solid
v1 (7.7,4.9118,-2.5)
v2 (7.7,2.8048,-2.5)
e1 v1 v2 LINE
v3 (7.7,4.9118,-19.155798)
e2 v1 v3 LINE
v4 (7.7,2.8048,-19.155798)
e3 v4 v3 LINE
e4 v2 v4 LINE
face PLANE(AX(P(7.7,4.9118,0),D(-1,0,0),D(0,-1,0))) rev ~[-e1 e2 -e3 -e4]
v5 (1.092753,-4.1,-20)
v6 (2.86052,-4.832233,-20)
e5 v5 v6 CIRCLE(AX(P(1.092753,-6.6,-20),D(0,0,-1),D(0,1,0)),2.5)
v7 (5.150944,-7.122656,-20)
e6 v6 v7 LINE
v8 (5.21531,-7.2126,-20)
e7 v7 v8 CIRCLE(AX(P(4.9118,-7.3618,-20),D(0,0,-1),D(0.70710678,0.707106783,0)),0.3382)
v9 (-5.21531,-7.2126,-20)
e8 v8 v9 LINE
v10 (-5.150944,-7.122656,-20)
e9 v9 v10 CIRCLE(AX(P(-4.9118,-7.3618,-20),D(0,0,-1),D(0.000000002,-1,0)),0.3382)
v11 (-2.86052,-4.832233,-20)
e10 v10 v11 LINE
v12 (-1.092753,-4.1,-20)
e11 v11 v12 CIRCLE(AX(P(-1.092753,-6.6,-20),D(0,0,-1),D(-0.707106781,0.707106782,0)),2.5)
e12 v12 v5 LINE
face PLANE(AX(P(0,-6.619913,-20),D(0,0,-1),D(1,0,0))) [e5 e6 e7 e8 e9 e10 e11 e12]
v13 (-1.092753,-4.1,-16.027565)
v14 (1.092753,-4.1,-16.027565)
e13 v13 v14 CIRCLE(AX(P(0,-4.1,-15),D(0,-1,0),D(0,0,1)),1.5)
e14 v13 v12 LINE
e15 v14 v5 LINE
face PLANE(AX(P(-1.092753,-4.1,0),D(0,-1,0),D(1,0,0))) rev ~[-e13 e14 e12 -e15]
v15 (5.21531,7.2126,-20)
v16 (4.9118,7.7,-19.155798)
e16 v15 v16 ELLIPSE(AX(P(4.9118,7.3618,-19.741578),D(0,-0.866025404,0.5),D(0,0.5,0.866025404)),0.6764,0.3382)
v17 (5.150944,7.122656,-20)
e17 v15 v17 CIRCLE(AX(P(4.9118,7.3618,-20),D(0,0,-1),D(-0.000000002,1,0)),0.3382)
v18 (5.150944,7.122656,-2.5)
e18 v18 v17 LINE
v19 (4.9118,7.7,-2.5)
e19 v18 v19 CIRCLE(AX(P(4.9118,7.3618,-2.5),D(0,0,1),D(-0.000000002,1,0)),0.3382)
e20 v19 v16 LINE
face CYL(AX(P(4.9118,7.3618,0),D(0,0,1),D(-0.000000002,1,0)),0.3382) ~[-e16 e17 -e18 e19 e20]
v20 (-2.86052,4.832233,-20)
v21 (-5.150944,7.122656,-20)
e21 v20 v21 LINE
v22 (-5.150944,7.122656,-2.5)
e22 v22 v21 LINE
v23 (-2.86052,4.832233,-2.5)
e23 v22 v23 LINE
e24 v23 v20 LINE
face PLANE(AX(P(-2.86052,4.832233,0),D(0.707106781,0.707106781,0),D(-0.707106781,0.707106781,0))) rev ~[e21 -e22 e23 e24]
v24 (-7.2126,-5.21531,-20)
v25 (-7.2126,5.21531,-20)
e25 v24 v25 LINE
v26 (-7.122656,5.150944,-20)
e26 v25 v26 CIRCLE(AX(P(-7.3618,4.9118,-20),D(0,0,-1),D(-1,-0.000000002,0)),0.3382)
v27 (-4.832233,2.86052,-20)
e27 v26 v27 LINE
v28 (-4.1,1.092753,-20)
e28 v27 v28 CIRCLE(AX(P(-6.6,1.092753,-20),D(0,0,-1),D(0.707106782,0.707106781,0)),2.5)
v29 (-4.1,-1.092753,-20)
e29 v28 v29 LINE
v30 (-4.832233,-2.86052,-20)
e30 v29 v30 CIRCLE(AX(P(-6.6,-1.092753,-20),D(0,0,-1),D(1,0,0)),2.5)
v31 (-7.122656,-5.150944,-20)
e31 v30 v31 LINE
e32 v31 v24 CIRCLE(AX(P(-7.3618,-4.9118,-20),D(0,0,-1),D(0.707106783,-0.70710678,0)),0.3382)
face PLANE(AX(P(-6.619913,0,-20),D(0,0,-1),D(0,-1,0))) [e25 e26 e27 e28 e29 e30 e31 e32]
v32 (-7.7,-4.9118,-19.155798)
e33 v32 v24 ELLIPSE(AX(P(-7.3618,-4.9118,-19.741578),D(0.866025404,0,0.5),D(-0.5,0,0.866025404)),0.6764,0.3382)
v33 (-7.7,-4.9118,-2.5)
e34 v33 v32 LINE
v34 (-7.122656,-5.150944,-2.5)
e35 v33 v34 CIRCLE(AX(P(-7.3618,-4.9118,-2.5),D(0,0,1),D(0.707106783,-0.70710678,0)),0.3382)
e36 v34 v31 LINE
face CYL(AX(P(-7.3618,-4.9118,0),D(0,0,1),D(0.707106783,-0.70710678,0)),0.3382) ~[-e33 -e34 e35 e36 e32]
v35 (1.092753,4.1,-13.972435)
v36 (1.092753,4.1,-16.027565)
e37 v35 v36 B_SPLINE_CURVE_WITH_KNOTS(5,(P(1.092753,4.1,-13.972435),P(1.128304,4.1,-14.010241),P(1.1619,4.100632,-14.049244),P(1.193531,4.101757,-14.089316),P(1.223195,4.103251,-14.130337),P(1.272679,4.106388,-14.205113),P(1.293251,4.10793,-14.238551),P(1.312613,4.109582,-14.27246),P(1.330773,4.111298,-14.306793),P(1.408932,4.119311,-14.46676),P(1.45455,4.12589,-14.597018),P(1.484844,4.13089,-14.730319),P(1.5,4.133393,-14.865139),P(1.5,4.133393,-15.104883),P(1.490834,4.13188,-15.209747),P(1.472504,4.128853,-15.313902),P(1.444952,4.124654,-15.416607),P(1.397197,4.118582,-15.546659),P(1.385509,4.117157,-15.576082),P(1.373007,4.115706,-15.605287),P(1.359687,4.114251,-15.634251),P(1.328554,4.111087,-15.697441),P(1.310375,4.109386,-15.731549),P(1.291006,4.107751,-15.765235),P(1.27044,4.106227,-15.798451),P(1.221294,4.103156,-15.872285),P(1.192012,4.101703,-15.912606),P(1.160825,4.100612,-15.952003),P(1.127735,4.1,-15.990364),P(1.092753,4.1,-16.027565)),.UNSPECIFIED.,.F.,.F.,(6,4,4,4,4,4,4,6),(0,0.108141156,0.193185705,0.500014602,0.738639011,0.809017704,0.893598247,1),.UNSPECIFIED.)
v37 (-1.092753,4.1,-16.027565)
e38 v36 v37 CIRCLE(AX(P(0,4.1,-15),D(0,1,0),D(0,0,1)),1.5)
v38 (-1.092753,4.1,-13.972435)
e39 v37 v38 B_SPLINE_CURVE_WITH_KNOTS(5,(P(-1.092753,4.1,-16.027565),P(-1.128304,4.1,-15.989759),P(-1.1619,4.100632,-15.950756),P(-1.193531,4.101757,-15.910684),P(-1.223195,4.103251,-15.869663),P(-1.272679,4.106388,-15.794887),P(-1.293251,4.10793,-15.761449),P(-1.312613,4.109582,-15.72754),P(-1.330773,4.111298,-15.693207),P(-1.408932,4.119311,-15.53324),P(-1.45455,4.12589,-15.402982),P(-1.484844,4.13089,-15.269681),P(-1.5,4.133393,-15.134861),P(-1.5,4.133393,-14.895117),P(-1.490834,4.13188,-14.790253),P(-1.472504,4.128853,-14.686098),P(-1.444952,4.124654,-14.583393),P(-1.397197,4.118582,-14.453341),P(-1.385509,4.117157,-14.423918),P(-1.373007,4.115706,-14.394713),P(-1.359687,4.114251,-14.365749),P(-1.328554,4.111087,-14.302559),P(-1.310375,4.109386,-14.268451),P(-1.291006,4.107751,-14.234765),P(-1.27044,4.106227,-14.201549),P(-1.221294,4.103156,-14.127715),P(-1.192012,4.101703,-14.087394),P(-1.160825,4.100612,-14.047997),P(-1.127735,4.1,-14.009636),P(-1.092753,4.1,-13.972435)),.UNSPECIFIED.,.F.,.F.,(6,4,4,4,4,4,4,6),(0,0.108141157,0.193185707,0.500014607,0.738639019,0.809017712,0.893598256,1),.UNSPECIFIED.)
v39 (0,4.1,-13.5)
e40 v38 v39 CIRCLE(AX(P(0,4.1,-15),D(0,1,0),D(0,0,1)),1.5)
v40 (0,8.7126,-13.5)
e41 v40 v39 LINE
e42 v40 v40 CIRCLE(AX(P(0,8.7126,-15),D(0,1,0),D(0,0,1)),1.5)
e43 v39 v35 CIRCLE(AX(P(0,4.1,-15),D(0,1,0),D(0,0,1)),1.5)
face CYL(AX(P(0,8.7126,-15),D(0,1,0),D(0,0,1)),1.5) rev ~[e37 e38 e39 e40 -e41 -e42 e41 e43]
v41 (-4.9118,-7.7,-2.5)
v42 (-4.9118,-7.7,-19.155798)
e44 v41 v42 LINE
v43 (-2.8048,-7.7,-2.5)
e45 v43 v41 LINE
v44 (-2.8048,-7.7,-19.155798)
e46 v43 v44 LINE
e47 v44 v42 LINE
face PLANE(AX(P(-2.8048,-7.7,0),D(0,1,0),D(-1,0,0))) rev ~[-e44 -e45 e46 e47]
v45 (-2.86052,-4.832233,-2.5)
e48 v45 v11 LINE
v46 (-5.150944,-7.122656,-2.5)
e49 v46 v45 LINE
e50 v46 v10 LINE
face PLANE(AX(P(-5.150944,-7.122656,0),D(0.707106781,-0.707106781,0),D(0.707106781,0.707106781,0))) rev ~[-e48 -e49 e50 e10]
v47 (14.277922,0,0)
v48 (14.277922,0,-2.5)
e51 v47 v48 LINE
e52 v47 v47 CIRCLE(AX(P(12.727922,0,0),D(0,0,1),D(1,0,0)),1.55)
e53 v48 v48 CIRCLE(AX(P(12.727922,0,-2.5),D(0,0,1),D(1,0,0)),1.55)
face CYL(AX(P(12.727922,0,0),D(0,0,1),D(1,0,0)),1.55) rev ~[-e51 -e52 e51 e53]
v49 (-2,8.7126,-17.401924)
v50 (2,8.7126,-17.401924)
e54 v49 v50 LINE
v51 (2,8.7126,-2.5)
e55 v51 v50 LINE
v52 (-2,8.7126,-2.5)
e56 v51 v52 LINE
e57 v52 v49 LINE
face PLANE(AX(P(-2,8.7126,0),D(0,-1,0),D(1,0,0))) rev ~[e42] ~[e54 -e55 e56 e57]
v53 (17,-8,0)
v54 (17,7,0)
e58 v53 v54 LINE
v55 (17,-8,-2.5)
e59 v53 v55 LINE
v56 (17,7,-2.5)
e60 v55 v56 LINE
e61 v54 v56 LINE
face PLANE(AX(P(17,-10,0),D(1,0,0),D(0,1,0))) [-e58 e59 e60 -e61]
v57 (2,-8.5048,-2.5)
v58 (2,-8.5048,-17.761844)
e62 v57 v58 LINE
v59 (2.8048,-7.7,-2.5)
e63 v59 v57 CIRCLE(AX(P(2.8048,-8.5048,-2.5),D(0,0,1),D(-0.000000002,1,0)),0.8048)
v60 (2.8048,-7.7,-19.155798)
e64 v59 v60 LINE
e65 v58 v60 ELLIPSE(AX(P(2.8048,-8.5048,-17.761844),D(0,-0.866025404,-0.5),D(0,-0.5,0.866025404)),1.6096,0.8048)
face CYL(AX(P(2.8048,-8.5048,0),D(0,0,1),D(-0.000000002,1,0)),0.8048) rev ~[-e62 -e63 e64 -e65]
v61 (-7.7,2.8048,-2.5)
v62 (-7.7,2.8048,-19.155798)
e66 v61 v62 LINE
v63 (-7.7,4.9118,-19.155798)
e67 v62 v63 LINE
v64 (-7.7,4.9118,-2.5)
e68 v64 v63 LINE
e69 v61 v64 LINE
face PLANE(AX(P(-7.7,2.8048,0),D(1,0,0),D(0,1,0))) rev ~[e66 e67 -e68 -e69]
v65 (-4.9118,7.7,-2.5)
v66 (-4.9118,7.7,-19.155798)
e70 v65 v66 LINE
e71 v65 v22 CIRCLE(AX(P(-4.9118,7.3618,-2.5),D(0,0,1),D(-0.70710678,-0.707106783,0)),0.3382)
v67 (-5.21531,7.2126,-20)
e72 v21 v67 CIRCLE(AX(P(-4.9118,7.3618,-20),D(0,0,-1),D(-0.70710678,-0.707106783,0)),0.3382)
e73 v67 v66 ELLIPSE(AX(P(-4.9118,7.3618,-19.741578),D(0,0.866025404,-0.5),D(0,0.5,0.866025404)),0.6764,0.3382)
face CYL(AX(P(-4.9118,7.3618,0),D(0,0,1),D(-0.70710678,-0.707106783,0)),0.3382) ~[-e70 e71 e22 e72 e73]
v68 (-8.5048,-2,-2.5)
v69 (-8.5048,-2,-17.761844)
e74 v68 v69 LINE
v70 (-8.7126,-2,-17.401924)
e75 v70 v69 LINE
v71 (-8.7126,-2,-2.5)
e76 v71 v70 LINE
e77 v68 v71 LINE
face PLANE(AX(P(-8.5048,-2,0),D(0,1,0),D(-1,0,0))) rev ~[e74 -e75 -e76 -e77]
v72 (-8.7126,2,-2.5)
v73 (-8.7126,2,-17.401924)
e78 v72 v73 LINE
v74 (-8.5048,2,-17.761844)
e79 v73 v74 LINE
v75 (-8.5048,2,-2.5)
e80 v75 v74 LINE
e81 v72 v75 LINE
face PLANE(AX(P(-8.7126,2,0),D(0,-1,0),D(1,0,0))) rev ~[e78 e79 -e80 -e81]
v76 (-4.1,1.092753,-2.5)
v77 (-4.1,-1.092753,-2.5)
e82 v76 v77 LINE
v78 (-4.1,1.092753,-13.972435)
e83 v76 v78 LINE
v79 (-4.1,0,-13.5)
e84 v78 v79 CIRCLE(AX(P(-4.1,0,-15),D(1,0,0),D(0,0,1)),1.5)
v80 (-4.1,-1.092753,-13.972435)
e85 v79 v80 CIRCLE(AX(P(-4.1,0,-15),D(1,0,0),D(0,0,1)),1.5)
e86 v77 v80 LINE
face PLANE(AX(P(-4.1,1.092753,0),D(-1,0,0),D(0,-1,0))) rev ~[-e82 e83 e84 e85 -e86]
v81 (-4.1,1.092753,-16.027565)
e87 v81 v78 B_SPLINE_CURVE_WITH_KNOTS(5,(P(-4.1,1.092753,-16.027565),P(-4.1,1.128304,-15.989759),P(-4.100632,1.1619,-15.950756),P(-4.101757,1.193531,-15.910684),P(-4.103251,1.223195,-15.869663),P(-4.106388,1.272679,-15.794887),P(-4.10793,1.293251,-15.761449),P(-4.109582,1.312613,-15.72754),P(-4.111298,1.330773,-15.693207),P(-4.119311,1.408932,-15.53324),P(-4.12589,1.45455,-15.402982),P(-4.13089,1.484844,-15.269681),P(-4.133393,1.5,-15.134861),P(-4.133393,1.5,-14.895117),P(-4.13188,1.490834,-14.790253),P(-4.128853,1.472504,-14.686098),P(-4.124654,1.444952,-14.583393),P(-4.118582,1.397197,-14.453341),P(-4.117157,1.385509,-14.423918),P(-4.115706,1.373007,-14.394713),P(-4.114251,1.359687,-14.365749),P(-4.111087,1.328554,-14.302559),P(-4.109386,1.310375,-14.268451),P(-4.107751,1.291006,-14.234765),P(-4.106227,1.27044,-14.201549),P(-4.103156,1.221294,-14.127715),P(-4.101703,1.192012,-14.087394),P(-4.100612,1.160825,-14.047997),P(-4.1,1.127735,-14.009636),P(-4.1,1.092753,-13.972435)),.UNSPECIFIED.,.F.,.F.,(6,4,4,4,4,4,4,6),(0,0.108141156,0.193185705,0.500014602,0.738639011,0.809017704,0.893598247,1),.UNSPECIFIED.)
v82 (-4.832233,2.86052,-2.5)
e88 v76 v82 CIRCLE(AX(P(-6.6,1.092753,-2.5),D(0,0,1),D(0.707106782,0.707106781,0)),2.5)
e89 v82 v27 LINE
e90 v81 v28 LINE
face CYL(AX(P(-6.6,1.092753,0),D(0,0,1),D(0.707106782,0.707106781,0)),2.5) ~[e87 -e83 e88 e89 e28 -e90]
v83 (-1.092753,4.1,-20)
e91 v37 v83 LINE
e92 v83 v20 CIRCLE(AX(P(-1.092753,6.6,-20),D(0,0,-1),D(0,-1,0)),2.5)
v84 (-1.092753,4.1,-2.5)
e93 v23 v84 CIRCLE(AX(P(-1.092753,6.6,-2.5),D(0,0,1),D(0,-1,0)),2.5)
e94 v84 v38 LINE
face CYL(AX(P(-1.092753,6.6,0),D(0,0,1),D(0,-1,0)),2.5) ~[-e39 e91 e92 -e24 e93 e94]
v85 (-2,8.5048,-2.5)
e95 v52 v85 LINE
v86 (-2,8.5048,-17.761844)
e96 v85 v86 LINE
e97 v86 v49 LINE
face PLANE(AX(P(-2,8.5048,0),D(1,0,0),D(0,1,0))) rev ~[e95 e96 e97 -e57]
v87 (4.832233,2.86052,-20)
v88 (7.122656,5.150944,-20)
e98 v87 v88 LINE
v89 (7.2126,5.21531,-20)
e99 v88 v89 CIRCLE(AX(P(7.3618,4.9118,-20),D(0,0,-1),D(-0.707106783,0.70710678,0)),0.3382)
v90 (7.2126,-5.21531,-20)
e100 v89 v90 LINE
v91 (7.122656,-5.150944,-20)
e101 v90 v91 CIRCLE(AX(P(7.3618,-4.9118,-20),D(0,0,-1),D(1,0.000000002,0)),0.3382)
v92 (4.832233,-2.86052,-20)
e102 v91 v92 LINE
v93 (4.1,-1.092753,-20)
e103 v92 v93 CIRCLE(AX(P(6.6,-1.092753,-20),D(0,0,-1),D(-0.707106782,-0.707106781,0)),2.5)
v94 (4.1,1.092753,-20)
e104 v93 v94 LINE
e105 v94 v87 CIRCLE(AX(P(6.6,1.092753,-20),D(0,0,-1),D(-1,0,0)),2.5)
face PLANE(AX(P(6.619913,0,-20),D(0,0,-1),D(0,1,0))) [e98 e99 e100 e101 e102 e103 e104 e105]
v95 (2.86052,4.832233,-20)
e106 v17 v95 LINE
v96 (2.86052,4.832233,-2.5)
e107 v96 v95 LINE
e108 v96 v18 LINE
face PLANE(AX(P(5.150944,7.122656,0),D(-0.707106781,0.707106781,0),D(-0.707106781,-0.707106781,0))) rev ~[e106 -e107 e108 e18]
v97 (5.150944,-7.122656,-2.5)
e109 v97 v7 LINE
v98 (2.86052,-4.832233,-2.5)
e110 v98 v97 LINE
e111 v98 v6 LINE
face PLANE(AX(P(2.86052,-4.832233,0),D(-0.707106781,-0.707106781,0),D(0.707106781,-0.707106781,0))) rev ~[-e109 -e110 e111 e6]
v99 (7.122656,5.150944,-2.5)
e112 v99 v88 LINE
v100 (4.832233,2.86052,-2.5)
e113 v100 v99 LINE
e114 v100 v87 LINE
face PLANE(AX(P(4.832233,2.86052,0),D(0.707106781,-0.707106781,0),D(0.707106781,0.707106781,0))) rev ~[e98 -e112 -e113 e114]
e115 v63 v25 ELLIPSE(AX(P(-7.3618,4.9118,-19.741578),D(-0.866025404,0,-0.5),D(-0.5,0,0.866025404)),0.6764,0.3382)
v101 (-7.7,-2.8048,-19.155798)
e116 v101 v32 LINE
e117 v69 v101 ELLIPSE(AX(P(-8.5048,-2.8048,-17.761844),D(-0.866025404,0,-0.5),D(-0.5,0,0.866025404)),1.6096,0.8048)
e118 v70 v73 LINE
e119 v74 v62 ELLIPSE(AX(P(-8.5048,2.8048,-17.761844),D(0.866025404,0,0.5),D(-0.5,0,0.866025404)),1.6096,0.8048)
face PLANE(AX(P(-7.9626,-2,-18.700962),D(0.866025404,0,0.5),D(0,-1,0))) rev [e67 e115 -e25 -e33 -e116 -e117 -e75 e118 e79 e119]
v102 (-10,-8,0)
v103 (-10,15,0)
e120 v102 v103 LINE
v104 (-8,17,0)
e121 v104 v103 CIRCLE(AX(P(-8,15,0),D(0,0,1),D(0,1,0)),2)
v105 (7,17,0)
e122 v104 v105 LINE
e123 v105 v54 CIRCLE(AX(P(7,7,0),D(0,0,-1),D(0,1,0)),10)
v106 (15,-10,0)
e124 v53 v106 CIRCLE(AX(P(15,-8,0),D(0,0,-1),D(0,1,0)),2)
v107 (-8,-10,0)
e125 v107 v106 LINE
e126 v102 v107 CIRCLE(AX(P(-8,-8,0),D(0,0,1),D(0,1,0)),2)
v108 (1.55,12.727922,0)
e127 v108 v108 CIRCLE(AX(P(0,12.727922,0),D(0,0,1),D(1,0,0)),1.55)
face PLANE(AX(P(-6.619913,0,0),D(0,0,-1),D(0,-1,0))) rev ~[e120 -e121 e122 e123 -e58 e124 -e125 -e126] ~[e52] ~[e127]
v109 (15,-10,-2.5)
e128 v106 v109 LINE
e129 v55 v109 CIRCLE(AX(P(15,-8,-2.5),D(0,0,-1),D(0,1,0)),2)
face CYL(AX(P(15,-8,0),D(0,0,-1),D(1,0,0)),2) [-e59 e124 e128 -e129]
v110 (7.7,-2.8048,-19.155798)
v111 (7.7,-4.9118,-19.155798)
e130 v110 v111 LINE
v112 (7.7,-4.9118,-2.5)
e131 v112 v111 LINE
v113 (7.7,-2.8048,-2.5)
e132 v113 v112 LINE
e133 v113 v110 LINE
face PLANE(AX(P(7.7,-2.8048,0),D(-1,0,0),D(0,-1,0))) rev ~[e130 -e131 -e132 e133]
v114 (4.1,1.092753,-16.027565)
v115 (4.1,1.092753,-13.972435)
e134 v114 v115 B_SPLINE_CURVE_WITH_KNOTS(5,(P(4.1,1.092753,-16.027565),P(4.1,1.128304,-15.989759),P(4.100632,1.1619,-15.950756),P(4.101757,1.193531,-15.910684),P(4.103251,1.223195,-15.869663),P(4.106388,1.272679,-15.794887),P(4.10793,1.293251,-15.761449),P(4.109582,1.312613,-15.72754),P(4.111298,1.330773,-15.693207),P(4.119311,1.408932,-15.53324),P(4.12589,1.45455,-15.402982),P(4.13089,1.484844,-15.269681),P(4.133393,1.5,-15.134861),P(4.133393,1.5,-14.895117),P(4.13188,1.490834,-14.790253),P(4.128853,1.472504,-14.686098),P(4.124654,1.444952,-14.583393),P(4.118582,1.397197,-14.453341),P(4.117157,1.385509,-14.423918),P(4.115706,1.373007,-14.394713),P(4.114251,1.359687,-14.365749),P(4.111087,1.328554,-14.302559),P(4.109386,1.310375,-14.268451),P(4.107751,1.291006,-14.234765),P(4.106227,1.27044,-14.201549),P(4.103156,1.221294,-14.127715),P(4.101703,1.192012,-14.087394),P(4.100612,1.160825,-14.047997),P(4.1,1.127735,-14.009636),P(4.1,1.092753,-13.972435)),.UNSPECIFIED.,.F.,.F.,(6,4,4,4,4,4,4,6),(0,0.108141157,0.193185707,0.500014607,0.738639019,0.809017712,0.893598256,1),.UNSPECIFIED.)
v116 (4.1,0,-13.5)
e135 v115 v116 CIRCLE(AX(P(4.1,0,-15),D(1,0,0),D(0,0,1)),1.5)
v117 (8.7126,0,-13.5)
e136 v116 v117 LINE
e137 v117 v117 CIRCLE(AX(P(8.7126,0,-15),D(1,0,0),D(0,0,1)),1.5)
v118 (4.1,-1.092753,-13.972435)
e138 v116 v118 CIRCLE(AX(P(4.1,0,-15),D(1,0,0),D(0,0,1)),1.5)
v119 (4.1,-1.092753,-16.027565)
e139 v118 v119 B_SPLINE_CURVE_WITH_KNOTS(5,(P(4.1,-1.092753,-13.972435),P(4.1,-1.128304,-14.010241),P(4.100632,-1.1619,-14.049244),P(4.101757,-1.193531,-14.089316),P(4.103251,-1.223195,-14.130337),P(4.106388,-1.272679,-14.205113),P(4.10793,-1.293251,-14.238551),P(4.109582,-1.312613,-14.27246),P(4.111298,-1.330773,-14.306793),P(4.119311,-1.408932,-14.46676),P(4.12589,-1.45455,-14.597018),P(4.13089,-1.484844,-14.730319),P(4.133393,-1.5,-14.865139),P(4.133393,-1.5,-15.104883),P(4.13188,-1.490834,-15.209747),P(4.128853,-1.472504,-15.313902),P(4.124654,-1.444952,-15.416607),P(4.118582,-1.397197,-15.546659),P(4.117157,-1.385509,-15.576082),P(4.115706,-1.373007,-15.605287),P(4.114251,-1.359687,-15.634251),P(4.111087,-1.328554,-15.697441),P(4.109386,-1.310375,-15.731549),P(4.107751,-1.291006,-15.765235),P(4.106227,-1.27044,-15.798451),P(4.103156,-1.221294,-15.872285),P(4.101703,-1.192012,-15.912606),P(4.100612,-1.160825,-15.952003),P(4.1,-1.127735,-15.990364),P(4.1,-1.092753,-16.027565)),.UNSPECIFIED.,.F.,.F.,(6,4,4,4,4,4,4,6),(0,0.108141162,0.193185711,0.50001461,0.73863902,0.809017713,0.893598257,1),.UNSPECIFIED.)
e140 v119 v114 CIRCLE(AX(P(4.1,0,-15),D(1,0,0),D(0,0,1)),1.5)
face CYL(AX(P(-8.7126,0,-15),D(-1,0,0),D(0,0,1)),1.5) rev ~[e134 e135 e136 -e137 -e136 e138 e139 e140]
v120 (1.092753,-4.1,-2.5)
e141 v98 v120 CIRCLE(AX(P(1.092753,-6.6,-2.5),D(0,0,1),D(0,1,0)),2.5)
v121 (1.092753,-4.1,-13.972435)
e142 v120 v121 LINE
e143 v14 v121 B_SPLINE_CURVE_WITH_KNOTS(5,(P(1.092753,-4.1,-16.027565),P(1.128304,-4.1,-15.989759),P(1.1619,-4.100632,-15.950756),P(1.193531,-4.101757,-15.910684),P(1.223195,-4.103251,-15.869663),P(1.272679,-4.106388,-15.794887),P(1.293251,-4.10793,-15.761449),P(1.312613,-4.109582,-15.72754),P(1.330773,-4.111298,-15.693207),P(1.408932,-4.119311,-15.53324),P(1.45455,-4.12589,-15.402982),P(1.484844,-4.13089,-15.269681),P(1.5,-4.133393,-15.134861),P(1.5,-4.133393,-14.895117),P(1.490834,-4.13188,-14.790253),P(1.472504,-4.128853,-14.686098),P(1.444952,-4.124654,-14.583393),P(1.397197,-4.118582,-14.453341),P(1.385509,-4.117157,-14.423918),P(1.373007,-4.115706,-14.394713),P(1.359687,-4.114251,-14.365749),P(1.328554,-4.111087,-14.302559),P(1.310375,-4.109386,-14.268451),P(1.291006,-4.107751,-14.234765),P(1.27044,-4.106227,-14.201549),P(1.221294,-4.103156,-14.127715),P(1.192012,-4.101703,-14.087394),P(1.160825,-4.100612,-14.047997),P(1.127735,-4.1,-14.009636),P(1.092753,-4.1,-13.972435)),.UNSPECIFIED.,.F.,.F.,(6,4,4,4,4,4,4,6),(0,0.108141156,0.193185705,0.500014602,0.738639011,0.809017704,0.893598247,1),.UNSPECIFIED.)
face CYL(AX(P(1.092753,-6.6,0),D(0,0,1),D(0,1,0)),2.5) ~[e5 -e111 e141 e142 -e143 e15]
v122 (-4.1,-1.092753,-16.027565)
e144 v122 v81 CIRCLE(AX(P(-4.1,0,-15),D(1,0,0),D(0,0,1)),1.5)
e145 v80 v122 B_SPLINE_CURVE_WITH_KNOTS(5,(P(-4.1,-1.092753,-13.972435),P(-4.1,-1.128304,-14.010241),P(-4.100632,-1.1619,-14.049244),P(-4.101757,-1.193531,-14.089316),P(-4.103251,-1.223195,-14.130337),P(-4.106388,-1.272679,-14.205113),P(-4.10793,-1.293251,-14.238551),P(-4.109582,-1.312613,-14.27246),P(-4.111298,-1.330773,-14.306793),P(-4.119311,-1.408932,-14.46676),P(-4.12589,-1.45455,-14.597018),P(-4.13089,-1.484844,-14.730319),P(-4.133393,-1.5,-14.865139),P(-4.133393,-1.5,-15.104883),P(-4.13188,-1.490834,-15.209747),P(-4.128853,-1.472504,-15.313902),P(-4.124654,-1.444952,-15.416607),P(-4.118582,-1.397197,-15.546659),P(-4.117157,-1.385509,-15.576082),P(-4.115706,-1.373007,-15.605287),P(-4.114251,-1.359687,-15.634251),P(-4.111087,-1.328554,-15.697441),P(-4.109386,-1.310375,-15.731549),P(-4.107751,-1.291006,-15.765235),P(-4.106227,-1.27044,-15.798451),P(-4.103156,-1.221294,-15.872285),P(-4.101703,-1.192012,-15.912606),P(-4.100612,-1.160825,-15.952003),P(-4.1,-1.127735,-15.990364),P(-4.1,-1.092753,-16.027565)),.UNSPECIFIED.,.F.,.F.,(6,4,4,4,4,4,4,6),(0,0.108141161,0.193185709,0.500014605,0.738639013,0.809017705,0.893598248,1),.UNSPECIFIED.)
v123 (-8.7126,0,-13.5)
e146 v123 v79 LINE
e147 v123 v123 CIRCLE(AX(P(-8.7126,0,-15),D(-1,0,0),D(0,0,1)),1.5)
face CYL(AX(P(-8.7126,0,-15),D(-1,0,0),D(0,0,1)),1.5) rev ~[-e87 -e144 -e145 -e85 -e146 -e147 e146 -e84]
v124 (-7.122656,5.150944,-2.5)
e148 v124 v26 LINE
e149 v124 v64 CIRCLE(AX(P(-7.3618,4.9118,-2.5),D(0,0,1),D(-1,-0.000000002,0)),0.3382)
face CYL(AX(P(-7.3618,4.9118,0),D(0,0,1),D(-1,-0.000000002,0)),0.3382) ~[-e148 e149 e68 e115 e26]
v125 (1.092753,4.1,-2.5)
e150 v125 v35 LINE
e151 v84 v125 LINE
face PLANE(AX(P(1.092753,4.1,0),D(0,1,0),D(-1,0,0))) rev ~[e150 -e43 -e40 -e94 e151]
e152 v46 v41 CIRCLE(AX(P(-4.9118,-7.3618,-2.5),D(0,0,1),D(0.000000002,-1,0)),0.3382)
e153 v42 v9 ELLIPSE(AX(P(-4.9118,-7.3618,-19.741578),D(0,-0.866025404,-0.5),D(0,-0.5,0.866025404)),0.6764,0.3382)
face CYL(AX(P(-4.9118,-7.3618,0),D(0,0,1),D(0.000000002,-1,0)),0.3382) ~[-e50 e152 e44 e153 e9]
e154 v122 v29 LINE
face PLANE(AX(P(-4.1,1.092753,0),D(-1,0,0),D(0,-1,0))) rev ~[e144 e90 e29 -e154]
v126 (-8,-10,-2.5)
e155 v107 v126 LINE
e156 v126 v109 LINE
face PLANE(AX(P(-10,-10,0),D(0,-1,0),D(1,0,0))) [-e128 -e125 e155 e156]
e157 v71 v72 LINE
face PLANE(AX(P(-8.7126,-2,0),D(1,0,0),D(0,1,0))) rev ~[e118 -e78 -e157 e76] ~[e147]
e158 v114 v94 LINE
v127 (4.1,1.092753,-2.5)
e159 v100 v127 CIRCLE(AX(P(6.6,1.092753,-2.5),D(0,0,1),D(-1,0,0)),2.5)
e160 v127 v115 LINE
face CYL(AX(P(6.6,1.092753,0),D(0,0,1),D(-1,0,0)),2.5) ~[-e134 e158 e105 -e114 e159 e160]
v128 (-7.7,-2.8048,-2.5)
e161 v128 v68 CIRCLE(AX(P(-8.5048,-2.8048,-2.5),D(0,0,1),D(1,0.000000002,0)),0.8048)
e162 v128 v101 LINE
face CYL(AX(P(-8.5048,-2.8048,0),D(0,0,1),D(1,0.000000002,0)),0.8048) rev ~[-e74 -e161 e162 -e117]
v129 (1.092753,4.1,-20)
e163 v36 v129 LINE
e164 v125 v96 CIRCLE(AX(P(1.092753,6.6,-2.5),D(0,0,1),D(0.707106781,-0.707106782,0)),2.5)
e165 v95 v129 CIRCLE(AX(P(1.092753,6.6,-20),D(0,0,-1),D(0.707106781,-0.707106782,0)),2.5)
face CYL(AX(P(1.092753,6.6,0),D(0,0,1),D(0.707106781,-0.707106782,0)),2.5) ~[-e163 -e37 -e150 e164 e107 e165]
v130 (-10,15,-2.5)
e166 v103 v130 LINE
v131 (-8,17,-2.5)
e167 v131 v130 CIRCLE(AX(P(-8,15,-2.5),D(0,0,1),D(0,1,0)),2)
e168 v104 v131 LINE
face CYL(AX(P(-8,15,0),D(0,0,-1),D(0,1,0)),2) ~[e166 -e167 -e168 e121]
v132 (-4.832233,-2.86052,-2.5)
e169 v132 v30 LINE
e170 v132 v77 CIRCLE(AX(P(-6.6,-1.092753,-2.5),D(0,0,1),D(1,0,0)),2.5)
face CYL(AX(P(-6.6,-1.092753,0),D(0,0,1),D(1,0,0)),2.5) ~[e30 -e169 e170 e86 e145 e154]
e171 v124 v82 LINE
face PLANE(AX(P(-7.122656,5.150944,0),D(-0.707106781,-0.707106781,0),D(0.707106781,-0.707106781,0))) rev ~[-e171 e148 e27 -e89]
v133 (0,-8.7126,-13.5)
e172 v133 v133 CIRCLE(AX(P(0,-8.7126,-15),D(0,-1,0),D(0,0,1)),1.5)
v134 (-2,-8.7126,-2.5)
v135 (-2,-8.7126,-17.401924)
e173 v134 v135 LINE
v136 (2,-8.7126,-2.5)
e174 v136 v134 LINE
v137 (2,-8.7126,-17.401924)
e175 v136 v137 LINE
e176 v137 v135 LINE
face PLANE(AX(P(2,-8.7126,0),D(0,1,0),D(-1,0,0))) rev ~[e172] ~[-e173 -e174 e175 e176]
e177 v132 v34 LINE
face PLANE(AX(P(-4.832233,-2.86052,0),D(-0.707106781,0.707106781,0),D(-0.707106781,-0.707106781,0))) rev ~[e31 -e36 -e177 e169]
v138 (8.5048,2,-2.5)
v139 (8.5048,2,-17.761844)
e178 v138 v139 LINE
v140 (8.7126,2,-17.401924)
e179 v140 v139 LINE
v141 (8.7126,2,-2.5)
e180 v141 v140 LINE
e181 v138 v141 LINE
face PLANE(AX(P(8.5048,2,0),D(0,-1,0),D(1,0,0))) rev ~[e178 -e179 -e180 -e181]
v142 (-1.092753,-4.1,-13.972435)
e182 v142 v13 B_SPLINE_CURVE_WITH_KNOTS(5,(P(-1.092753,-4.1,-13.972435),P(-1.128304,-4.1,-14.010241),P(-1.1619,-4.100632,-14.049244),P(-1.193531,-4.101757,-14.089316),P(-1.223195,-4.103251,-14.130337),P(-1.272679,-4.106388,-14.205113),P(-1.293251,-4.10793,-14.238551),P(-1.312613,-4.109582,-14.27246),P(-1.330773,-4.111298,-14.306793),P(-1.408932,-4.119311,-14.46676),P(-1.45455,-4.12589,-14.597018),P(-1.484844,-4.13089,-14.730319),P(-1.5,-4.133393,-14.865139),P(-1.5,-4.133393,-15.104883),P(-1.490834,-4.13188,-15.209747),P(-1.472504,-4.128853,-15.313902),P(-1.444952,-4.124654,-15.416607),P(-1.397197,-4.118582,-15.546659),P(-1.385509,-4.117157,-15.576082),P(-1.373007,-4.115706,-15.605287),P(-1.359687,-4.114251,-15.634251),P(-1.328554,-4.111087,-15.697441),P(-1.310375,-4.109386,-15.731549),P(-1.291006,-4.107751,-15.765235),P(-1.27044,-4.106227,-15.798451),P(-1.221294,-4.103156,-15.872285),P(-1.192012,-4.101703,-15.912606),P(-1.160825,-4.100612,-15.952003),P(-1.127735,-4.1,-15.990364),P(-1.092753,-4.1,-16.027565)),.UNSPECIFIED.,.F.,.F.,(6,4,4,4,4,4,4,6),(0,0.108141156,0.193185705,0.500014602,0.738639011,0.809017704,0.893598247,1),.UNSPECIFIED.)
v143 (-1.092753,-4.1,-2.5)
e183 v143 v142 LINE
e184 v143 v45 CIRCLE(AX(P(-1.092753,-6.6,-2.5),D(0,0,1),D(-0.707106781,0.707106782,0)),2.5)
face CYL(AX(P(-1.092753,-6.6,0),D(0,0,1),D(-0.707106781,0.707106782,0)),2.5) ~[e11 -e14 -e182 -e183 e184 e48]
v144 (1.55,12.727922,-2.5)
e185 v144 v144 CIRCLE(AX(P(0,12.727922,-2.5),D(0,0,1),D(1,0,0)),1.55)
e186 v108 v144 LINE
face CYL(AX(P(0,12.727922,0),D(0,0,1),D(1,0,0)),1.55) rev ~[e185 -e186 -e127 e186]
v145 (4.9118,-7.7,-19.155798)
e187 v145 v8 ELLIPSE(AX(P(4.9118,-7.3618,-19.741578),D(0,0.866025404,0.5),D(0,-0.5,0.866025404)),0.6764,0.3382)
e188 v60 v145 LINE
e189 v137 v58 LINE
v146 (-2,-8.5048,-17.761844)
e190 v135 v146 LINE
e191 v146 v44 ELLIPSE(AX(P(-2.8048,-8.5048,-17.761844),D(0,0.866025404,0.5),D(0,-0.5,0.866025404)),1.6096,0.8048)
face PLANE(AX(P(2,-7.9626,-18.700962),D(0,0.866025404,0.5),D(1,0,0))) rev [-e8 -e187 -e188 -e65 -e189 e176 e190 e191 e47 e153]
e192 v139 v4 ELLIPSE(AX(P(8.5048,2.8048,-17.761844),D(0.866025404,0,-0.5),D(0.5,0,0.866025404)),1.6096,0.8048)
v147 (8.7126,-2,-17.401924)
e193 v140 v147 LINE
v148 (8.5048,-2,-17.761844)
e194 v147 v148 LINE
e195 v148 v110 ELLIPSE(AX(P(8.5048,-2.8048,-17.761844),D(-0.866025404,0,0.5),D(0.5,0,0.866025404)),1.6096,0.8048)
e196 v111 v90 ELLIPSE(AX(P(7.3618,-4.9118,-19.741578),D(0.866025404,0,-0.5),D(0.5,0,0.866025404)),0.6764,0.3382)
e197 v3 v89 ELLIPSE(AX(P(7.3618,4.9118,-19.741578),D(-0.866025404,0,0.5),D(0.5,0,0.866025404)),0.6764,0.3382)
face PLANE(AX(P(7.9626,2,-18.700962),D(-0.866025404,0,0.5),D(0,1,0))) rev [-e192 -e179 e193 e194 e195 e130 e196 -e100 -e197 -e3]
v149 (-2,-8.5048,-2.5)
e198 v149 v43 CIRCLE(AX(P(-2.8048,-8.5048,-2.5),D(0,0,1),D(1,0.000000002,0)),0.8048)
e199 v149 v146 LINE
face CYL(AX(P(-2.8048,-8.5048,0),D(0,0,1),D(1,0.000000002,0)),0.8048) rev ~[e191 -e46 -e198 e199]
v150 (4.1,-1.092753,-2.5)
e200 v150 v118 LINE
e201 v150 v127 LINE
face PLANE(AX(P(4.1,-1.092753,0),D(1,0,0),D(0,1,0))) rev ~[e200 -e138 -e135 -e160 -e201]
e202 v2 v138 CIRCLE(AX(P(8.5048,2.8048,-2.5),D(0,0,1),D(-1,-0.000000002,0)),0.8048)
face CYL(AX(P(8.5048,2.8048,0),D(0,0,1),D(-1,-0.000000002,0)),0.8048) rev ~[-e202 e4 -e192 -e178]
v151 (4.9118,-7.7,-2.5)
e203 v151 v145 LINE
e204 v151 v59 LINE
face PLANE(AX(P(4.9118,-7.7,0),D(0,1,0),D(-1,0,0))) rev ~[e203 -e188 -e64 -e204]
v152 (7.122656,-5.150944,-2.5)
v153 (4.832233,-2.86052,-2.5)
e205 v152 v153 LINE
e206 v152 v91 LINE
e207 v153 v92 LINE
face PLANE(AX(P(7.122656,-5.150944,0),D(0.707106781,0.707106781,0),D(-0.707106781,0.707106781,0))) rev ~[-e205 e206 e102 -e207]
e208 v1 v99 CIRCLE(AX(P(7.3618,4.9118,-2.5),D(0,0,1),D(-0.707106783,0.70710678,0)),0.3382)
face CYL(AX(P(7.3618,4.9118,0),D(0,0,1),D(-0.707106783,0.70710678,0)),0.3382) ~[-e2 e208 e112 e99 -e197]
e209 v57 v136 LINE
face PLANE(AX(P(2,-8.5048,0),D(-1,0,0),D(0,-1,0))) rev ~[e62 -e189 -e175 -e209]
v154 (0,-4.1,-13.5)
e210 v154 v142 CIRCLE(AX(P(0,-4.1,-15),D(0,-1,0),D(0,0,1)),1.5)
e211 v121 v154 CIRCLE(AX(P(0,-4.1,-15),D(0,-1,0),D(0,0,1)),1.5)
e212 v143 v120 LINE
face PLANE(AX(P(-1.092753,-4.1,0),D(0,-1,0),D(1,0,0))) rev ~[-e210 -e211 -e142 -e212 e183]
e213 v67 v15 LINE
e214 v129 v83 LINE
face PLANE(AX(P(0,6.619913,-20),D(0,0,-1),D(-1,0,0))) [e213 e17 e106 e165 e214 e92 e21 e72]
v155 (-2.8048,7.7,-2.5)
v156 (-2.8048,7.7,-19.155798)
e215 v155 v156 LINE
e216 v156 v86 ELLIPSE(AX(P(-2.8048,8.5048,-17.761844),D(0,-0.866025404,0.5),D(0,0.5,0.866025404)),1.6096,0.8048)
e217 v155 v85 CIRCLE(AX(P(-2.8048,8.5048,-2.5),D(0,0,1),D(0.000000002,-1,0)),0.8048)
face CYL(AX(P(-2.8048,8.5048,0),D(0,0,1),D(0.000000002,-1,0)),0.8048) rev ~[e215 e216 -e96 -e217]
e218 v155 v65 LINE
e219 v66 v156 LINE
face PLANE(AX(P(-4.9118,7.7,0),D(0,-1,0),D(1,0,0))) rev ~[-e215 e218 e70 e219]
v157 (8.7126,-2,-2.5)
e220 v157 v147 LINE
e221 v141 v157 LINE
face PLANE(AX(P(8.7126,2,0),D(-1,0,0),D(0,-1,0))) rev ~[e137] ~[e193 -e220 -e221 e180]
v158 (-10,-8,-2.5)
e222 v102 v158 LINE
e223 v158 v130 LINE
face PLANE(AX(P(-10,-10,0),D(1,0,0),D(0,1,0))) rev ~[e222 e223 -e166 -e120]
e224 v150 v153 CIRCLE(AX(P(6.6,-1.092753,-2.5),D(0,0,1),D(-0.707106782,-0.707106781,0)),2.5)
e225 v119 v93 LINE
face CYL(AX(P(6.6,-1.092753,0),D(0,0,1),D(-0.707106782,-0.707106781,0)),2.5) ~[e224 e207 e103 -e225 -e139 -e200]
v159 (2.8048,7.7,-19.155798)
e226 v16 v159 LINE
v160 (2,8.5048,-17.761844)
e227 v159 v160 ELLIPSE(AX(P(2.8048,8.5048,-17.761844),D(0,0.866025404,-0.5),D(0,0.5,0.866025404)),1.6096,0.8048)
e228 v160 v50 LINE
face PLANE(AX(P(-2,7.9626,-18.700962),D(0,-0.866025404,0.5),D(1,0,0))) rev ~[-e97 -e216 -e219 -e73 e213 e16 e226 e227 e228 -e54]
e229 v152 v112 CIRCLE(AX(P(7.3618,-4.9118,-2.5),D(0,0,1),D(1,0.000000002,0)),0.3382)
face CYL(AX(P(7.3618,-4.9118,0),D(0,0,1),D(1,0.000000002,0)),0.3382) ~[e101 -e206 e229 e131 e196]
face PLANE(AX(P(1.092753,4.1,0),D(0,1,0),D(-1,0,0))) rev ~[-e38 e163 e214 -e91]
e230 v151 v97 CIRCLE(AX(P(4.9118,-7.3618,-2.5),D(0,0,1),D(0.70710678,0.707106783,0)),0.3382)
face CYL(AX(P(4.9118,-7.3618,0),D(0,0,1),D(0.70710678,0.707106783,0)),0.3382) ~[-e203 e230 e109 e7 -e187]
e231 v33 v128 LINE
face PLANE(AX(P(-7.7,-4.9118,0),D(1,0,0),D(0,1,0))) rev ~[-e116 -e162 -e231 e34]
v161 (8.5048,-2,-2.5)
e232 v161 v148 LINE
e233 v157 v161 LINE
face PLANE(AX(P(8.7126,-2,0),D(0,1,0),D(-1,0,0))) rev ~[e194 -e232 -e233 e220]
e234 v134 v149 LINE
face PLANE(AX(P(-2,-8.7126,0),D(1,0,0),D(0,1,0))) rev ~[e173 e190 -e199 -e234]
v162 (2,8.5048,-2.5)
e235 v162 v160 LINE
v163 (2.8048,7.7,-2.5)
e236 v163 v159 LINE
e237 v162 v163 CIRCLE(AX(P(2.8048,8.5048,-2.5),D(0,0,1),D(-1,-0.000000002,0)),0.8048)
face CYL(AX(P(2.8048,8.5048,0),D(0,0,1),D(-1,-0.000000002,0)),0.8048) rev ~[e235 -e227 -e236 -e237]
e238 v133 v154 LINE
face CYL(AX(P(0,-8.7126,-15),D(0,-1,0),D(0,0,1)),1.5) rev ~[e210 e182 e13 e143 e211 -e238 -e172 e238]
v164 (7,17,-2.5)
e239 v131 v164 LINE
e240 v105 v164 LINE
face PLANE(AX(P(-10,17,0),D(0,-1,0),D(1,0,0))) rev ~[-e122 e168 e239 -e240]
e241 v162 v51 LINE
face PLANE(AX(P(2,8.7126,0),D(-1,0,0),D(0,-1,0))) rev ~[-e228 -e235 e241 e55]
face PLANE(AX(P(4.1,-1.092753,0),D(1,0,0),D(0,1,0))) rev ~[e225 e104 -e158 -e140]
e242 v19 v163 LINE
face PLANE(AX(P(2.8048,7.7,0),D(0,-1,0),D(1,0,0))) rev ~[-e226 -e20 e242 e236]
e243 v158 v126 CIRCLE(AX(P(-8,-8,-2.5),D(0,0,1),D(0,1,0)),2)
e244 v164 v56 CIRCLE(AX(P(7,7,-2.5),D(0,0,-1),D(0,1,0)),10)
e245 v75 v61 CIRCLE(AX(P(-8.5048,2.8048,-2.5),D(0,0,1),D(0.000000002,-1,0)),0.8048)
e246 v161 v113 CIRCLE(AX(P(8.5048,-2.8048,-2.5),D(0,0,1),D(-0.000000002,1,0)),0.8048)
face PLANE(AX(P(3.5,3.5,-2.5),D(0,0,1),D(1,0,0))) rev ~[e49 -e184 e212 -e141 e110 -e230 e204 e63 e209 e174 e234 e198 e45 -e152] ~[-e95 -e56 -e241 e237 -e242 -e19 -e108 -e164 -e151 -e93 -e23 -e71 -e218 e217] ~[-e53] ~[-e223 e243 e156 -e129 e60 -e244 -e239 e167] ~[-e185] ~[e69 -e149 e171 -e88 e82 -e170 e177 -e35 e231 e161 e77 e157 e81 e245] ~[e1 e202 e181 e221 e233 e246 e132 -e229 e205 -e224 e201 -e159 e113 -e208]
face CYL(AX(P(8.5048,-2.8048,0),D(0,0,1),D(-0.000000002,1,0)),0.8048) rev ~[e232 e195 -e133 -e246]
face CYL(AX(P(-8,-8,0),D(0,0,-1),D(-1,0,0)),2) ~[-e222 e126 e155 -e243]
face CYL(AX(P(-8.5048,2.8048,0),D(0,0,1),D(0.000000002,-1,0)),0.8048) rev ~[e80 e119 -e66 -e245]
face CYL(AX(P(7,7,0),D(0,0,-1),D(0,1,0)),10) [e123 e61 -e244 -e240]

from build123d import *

# Parameters (mm, degrees)
BOSS_EXTRUDE2_DEPTH           = 20
CHAMFER2_SIZE                 = 1.5
CHAMFER2_SIZE2                = 2.598076211
SKETCH4_R                     = 1.5
CUT_EXTRUDE1_DEPTH            = 22.185810788
SKETCH6_W                     = 27
SKETCH6_H                     = 27
BOSS_EXTRUDE4_DEPTH           = 2.5
CIRPATTERN1_COUNT             = 4
CHAMFER2_OF_CIRPATTERN1_SIZE2 = 1.5
CHAMFER2_OF_CIRPATTERN1_SIZE  = 2.598076211
SKETCH10_R                    = 1.55
CUT_EXTRUDE3_DEPTH            = 32.272991606
FILLET1_R                     = 10
FILLET2_R                     = 2


with BuildPart() as part:
    # Sketch2 → Boss-Extrude2 (new body)
    with BuildSketch(Plane.XY):
        with BuildLine():
            Line((-2.860520074, 4.832233047), (-5.150943513, 7.122656487))
            ThreePointArc((-5.150943513, 7.122656487), (-5.224256058, 7.491223537), (-4.9118, 7.7))
            Line((-4.9118, 7.7), (-2.8048, 7.7))
            ThreePointArc((-2.8048, 7.7), (-2.235720463, 7.935720463), (-2, 8.5048))
            Line((-2, 8.5048), (-2, 8.7126))
            Line((-2, 8.7126), (2, 8.7126))
            Line((2, 8.7126), (2, 8.5048))
            ThreePointArc((2, 8.5048), (2.235720463, 7.935720463), (2.8048, 7.7))
            Line((2.8048, 7.7), (4.9118, 7.7))
            ThreePointArc((4.9118, 7.7), (5.224256058, 7.491223537), (5.150943513, 7.122656487))
            Line((5.150943513, 7.122656487), (2.860520074, 4.832233047))
            ThreePointArc((2.860520074, 4.832233047), (2.049461702, 4.290301169), (1.092753121, 4.1))
            Line((1.092753121, 4.1), (-1.092753121, 4.1))
            ThreePointArc((-1.092753121, 4.1), (-2.049461702, 4.290301169), (-2.860520074, 4.832233047))
        make_face()
    boss_extrude2 = extrude(amount=-BOSS_EXTRUDE2_DEPTH)

    # Chamfer2
    chamfer2_edges = [part.edges().sort_by_distance(p)[0] for p in [
        (0, 8.7126, -20),
    ]]
    chamfer2_side = [part.faces().sort_by_distance(p)[0] for p in [
        (0, 6.450366022, -20),
    ]]
    chamfer(chamfer2_edges, length=CHAMFER2_SIZE, length2=CHAMFER2_SIZE2, reference=chamfer2_side[0])

    # Sketch4 → Cut-Extrude1 (cut, through all)
    with BuildSketch(Plane(origin=(0, 8.7126, 0), x_dir=(1, 0, 0), z_dir=(0, 1, 0))):
        with Locations(Location((0, 15, 0), (0, 0, 270))):
            Circle(SKETCH4_R)
    cut_extrude1 = extrude(amount=-CUT_EXTRUDE1_DEPTH, mode=Mode.SUBTRACT)

    # Sketch6 → Boss-Extrude4 (add)
    with BuildSketch(Plane.XY):
        with Locations((3.5, 3.5)):
            Rectangle(SKETCH6_W, SKETCH6_H)
    extrude(amount=-BOSS_EXTRUDE4_DEPTH)

    # CirPattern1: Boss-Extrude2, Cut-Extrude1 ×4 about axis
    cirpattern1_axis = Axis((0, 0, 0), (0, 0, 1))
    add([boss_extrude2.rotate(cirpattern1_axis, i * 360 / CIRPATTERN1_COUNT) for i in range(1, CIRPATTERN1_COUNT)])
    add([cut_extrude1.rotate(cirpattern1_axis, i * 360 / CIRPATTERN1_COUNT) for i in range(1, CIRPATTERN1_COUNT)], mode=Mode.SUBTRACT)

    # Chamfer2 of CirPattern1
    chamfer2_of_cirpattern1_edges = [part.edges().sort_by_distance(p)[0] for p in [
        (-8.7126, 0, -20),
        (0, -8.7126, -20),
        (8.7126, 0, -20),
    ]]
    chamfer(chamfer2_of_cirpattern1_edges, length=CHAMFER2_OF_CIRPATTERN1_SIZE, length2=CHAMFER2_OF_CIRPATTERN1_SIZE2)

    # Sketch10 → Cut-Extrude3 (cut, through all)
    with BuildSketch(Plane.XY):
        with Locations((0, 12.727922061)):
            Circle(SKETCH10_R)
        with Locations((12.727922061, 0)):
            Circle(SKETCH10_R)
    extrude(amount=-CUT_EXTRUDE3_DEPTH, mode=Mode.SUBTRACT)

    # Fillet1
    fillet1_edges = [part.edges().sort_by_distance(p)[0] for p in [
        (17, 17, -1.25),
    ]]
    fillet(fillet1_edges, radius=FILLET1_R)

    # Fillet2
    fillet2_edges = [part.edges().sort_by_distance(p)[0] for p in [
        (-10, -10, -1.25),
        (-10, 17, -1.25),
        (17, -10, -1.25),
    ]]
    fillet(fillet2_edges, radius=FILLET2_R)


solid = part.part
